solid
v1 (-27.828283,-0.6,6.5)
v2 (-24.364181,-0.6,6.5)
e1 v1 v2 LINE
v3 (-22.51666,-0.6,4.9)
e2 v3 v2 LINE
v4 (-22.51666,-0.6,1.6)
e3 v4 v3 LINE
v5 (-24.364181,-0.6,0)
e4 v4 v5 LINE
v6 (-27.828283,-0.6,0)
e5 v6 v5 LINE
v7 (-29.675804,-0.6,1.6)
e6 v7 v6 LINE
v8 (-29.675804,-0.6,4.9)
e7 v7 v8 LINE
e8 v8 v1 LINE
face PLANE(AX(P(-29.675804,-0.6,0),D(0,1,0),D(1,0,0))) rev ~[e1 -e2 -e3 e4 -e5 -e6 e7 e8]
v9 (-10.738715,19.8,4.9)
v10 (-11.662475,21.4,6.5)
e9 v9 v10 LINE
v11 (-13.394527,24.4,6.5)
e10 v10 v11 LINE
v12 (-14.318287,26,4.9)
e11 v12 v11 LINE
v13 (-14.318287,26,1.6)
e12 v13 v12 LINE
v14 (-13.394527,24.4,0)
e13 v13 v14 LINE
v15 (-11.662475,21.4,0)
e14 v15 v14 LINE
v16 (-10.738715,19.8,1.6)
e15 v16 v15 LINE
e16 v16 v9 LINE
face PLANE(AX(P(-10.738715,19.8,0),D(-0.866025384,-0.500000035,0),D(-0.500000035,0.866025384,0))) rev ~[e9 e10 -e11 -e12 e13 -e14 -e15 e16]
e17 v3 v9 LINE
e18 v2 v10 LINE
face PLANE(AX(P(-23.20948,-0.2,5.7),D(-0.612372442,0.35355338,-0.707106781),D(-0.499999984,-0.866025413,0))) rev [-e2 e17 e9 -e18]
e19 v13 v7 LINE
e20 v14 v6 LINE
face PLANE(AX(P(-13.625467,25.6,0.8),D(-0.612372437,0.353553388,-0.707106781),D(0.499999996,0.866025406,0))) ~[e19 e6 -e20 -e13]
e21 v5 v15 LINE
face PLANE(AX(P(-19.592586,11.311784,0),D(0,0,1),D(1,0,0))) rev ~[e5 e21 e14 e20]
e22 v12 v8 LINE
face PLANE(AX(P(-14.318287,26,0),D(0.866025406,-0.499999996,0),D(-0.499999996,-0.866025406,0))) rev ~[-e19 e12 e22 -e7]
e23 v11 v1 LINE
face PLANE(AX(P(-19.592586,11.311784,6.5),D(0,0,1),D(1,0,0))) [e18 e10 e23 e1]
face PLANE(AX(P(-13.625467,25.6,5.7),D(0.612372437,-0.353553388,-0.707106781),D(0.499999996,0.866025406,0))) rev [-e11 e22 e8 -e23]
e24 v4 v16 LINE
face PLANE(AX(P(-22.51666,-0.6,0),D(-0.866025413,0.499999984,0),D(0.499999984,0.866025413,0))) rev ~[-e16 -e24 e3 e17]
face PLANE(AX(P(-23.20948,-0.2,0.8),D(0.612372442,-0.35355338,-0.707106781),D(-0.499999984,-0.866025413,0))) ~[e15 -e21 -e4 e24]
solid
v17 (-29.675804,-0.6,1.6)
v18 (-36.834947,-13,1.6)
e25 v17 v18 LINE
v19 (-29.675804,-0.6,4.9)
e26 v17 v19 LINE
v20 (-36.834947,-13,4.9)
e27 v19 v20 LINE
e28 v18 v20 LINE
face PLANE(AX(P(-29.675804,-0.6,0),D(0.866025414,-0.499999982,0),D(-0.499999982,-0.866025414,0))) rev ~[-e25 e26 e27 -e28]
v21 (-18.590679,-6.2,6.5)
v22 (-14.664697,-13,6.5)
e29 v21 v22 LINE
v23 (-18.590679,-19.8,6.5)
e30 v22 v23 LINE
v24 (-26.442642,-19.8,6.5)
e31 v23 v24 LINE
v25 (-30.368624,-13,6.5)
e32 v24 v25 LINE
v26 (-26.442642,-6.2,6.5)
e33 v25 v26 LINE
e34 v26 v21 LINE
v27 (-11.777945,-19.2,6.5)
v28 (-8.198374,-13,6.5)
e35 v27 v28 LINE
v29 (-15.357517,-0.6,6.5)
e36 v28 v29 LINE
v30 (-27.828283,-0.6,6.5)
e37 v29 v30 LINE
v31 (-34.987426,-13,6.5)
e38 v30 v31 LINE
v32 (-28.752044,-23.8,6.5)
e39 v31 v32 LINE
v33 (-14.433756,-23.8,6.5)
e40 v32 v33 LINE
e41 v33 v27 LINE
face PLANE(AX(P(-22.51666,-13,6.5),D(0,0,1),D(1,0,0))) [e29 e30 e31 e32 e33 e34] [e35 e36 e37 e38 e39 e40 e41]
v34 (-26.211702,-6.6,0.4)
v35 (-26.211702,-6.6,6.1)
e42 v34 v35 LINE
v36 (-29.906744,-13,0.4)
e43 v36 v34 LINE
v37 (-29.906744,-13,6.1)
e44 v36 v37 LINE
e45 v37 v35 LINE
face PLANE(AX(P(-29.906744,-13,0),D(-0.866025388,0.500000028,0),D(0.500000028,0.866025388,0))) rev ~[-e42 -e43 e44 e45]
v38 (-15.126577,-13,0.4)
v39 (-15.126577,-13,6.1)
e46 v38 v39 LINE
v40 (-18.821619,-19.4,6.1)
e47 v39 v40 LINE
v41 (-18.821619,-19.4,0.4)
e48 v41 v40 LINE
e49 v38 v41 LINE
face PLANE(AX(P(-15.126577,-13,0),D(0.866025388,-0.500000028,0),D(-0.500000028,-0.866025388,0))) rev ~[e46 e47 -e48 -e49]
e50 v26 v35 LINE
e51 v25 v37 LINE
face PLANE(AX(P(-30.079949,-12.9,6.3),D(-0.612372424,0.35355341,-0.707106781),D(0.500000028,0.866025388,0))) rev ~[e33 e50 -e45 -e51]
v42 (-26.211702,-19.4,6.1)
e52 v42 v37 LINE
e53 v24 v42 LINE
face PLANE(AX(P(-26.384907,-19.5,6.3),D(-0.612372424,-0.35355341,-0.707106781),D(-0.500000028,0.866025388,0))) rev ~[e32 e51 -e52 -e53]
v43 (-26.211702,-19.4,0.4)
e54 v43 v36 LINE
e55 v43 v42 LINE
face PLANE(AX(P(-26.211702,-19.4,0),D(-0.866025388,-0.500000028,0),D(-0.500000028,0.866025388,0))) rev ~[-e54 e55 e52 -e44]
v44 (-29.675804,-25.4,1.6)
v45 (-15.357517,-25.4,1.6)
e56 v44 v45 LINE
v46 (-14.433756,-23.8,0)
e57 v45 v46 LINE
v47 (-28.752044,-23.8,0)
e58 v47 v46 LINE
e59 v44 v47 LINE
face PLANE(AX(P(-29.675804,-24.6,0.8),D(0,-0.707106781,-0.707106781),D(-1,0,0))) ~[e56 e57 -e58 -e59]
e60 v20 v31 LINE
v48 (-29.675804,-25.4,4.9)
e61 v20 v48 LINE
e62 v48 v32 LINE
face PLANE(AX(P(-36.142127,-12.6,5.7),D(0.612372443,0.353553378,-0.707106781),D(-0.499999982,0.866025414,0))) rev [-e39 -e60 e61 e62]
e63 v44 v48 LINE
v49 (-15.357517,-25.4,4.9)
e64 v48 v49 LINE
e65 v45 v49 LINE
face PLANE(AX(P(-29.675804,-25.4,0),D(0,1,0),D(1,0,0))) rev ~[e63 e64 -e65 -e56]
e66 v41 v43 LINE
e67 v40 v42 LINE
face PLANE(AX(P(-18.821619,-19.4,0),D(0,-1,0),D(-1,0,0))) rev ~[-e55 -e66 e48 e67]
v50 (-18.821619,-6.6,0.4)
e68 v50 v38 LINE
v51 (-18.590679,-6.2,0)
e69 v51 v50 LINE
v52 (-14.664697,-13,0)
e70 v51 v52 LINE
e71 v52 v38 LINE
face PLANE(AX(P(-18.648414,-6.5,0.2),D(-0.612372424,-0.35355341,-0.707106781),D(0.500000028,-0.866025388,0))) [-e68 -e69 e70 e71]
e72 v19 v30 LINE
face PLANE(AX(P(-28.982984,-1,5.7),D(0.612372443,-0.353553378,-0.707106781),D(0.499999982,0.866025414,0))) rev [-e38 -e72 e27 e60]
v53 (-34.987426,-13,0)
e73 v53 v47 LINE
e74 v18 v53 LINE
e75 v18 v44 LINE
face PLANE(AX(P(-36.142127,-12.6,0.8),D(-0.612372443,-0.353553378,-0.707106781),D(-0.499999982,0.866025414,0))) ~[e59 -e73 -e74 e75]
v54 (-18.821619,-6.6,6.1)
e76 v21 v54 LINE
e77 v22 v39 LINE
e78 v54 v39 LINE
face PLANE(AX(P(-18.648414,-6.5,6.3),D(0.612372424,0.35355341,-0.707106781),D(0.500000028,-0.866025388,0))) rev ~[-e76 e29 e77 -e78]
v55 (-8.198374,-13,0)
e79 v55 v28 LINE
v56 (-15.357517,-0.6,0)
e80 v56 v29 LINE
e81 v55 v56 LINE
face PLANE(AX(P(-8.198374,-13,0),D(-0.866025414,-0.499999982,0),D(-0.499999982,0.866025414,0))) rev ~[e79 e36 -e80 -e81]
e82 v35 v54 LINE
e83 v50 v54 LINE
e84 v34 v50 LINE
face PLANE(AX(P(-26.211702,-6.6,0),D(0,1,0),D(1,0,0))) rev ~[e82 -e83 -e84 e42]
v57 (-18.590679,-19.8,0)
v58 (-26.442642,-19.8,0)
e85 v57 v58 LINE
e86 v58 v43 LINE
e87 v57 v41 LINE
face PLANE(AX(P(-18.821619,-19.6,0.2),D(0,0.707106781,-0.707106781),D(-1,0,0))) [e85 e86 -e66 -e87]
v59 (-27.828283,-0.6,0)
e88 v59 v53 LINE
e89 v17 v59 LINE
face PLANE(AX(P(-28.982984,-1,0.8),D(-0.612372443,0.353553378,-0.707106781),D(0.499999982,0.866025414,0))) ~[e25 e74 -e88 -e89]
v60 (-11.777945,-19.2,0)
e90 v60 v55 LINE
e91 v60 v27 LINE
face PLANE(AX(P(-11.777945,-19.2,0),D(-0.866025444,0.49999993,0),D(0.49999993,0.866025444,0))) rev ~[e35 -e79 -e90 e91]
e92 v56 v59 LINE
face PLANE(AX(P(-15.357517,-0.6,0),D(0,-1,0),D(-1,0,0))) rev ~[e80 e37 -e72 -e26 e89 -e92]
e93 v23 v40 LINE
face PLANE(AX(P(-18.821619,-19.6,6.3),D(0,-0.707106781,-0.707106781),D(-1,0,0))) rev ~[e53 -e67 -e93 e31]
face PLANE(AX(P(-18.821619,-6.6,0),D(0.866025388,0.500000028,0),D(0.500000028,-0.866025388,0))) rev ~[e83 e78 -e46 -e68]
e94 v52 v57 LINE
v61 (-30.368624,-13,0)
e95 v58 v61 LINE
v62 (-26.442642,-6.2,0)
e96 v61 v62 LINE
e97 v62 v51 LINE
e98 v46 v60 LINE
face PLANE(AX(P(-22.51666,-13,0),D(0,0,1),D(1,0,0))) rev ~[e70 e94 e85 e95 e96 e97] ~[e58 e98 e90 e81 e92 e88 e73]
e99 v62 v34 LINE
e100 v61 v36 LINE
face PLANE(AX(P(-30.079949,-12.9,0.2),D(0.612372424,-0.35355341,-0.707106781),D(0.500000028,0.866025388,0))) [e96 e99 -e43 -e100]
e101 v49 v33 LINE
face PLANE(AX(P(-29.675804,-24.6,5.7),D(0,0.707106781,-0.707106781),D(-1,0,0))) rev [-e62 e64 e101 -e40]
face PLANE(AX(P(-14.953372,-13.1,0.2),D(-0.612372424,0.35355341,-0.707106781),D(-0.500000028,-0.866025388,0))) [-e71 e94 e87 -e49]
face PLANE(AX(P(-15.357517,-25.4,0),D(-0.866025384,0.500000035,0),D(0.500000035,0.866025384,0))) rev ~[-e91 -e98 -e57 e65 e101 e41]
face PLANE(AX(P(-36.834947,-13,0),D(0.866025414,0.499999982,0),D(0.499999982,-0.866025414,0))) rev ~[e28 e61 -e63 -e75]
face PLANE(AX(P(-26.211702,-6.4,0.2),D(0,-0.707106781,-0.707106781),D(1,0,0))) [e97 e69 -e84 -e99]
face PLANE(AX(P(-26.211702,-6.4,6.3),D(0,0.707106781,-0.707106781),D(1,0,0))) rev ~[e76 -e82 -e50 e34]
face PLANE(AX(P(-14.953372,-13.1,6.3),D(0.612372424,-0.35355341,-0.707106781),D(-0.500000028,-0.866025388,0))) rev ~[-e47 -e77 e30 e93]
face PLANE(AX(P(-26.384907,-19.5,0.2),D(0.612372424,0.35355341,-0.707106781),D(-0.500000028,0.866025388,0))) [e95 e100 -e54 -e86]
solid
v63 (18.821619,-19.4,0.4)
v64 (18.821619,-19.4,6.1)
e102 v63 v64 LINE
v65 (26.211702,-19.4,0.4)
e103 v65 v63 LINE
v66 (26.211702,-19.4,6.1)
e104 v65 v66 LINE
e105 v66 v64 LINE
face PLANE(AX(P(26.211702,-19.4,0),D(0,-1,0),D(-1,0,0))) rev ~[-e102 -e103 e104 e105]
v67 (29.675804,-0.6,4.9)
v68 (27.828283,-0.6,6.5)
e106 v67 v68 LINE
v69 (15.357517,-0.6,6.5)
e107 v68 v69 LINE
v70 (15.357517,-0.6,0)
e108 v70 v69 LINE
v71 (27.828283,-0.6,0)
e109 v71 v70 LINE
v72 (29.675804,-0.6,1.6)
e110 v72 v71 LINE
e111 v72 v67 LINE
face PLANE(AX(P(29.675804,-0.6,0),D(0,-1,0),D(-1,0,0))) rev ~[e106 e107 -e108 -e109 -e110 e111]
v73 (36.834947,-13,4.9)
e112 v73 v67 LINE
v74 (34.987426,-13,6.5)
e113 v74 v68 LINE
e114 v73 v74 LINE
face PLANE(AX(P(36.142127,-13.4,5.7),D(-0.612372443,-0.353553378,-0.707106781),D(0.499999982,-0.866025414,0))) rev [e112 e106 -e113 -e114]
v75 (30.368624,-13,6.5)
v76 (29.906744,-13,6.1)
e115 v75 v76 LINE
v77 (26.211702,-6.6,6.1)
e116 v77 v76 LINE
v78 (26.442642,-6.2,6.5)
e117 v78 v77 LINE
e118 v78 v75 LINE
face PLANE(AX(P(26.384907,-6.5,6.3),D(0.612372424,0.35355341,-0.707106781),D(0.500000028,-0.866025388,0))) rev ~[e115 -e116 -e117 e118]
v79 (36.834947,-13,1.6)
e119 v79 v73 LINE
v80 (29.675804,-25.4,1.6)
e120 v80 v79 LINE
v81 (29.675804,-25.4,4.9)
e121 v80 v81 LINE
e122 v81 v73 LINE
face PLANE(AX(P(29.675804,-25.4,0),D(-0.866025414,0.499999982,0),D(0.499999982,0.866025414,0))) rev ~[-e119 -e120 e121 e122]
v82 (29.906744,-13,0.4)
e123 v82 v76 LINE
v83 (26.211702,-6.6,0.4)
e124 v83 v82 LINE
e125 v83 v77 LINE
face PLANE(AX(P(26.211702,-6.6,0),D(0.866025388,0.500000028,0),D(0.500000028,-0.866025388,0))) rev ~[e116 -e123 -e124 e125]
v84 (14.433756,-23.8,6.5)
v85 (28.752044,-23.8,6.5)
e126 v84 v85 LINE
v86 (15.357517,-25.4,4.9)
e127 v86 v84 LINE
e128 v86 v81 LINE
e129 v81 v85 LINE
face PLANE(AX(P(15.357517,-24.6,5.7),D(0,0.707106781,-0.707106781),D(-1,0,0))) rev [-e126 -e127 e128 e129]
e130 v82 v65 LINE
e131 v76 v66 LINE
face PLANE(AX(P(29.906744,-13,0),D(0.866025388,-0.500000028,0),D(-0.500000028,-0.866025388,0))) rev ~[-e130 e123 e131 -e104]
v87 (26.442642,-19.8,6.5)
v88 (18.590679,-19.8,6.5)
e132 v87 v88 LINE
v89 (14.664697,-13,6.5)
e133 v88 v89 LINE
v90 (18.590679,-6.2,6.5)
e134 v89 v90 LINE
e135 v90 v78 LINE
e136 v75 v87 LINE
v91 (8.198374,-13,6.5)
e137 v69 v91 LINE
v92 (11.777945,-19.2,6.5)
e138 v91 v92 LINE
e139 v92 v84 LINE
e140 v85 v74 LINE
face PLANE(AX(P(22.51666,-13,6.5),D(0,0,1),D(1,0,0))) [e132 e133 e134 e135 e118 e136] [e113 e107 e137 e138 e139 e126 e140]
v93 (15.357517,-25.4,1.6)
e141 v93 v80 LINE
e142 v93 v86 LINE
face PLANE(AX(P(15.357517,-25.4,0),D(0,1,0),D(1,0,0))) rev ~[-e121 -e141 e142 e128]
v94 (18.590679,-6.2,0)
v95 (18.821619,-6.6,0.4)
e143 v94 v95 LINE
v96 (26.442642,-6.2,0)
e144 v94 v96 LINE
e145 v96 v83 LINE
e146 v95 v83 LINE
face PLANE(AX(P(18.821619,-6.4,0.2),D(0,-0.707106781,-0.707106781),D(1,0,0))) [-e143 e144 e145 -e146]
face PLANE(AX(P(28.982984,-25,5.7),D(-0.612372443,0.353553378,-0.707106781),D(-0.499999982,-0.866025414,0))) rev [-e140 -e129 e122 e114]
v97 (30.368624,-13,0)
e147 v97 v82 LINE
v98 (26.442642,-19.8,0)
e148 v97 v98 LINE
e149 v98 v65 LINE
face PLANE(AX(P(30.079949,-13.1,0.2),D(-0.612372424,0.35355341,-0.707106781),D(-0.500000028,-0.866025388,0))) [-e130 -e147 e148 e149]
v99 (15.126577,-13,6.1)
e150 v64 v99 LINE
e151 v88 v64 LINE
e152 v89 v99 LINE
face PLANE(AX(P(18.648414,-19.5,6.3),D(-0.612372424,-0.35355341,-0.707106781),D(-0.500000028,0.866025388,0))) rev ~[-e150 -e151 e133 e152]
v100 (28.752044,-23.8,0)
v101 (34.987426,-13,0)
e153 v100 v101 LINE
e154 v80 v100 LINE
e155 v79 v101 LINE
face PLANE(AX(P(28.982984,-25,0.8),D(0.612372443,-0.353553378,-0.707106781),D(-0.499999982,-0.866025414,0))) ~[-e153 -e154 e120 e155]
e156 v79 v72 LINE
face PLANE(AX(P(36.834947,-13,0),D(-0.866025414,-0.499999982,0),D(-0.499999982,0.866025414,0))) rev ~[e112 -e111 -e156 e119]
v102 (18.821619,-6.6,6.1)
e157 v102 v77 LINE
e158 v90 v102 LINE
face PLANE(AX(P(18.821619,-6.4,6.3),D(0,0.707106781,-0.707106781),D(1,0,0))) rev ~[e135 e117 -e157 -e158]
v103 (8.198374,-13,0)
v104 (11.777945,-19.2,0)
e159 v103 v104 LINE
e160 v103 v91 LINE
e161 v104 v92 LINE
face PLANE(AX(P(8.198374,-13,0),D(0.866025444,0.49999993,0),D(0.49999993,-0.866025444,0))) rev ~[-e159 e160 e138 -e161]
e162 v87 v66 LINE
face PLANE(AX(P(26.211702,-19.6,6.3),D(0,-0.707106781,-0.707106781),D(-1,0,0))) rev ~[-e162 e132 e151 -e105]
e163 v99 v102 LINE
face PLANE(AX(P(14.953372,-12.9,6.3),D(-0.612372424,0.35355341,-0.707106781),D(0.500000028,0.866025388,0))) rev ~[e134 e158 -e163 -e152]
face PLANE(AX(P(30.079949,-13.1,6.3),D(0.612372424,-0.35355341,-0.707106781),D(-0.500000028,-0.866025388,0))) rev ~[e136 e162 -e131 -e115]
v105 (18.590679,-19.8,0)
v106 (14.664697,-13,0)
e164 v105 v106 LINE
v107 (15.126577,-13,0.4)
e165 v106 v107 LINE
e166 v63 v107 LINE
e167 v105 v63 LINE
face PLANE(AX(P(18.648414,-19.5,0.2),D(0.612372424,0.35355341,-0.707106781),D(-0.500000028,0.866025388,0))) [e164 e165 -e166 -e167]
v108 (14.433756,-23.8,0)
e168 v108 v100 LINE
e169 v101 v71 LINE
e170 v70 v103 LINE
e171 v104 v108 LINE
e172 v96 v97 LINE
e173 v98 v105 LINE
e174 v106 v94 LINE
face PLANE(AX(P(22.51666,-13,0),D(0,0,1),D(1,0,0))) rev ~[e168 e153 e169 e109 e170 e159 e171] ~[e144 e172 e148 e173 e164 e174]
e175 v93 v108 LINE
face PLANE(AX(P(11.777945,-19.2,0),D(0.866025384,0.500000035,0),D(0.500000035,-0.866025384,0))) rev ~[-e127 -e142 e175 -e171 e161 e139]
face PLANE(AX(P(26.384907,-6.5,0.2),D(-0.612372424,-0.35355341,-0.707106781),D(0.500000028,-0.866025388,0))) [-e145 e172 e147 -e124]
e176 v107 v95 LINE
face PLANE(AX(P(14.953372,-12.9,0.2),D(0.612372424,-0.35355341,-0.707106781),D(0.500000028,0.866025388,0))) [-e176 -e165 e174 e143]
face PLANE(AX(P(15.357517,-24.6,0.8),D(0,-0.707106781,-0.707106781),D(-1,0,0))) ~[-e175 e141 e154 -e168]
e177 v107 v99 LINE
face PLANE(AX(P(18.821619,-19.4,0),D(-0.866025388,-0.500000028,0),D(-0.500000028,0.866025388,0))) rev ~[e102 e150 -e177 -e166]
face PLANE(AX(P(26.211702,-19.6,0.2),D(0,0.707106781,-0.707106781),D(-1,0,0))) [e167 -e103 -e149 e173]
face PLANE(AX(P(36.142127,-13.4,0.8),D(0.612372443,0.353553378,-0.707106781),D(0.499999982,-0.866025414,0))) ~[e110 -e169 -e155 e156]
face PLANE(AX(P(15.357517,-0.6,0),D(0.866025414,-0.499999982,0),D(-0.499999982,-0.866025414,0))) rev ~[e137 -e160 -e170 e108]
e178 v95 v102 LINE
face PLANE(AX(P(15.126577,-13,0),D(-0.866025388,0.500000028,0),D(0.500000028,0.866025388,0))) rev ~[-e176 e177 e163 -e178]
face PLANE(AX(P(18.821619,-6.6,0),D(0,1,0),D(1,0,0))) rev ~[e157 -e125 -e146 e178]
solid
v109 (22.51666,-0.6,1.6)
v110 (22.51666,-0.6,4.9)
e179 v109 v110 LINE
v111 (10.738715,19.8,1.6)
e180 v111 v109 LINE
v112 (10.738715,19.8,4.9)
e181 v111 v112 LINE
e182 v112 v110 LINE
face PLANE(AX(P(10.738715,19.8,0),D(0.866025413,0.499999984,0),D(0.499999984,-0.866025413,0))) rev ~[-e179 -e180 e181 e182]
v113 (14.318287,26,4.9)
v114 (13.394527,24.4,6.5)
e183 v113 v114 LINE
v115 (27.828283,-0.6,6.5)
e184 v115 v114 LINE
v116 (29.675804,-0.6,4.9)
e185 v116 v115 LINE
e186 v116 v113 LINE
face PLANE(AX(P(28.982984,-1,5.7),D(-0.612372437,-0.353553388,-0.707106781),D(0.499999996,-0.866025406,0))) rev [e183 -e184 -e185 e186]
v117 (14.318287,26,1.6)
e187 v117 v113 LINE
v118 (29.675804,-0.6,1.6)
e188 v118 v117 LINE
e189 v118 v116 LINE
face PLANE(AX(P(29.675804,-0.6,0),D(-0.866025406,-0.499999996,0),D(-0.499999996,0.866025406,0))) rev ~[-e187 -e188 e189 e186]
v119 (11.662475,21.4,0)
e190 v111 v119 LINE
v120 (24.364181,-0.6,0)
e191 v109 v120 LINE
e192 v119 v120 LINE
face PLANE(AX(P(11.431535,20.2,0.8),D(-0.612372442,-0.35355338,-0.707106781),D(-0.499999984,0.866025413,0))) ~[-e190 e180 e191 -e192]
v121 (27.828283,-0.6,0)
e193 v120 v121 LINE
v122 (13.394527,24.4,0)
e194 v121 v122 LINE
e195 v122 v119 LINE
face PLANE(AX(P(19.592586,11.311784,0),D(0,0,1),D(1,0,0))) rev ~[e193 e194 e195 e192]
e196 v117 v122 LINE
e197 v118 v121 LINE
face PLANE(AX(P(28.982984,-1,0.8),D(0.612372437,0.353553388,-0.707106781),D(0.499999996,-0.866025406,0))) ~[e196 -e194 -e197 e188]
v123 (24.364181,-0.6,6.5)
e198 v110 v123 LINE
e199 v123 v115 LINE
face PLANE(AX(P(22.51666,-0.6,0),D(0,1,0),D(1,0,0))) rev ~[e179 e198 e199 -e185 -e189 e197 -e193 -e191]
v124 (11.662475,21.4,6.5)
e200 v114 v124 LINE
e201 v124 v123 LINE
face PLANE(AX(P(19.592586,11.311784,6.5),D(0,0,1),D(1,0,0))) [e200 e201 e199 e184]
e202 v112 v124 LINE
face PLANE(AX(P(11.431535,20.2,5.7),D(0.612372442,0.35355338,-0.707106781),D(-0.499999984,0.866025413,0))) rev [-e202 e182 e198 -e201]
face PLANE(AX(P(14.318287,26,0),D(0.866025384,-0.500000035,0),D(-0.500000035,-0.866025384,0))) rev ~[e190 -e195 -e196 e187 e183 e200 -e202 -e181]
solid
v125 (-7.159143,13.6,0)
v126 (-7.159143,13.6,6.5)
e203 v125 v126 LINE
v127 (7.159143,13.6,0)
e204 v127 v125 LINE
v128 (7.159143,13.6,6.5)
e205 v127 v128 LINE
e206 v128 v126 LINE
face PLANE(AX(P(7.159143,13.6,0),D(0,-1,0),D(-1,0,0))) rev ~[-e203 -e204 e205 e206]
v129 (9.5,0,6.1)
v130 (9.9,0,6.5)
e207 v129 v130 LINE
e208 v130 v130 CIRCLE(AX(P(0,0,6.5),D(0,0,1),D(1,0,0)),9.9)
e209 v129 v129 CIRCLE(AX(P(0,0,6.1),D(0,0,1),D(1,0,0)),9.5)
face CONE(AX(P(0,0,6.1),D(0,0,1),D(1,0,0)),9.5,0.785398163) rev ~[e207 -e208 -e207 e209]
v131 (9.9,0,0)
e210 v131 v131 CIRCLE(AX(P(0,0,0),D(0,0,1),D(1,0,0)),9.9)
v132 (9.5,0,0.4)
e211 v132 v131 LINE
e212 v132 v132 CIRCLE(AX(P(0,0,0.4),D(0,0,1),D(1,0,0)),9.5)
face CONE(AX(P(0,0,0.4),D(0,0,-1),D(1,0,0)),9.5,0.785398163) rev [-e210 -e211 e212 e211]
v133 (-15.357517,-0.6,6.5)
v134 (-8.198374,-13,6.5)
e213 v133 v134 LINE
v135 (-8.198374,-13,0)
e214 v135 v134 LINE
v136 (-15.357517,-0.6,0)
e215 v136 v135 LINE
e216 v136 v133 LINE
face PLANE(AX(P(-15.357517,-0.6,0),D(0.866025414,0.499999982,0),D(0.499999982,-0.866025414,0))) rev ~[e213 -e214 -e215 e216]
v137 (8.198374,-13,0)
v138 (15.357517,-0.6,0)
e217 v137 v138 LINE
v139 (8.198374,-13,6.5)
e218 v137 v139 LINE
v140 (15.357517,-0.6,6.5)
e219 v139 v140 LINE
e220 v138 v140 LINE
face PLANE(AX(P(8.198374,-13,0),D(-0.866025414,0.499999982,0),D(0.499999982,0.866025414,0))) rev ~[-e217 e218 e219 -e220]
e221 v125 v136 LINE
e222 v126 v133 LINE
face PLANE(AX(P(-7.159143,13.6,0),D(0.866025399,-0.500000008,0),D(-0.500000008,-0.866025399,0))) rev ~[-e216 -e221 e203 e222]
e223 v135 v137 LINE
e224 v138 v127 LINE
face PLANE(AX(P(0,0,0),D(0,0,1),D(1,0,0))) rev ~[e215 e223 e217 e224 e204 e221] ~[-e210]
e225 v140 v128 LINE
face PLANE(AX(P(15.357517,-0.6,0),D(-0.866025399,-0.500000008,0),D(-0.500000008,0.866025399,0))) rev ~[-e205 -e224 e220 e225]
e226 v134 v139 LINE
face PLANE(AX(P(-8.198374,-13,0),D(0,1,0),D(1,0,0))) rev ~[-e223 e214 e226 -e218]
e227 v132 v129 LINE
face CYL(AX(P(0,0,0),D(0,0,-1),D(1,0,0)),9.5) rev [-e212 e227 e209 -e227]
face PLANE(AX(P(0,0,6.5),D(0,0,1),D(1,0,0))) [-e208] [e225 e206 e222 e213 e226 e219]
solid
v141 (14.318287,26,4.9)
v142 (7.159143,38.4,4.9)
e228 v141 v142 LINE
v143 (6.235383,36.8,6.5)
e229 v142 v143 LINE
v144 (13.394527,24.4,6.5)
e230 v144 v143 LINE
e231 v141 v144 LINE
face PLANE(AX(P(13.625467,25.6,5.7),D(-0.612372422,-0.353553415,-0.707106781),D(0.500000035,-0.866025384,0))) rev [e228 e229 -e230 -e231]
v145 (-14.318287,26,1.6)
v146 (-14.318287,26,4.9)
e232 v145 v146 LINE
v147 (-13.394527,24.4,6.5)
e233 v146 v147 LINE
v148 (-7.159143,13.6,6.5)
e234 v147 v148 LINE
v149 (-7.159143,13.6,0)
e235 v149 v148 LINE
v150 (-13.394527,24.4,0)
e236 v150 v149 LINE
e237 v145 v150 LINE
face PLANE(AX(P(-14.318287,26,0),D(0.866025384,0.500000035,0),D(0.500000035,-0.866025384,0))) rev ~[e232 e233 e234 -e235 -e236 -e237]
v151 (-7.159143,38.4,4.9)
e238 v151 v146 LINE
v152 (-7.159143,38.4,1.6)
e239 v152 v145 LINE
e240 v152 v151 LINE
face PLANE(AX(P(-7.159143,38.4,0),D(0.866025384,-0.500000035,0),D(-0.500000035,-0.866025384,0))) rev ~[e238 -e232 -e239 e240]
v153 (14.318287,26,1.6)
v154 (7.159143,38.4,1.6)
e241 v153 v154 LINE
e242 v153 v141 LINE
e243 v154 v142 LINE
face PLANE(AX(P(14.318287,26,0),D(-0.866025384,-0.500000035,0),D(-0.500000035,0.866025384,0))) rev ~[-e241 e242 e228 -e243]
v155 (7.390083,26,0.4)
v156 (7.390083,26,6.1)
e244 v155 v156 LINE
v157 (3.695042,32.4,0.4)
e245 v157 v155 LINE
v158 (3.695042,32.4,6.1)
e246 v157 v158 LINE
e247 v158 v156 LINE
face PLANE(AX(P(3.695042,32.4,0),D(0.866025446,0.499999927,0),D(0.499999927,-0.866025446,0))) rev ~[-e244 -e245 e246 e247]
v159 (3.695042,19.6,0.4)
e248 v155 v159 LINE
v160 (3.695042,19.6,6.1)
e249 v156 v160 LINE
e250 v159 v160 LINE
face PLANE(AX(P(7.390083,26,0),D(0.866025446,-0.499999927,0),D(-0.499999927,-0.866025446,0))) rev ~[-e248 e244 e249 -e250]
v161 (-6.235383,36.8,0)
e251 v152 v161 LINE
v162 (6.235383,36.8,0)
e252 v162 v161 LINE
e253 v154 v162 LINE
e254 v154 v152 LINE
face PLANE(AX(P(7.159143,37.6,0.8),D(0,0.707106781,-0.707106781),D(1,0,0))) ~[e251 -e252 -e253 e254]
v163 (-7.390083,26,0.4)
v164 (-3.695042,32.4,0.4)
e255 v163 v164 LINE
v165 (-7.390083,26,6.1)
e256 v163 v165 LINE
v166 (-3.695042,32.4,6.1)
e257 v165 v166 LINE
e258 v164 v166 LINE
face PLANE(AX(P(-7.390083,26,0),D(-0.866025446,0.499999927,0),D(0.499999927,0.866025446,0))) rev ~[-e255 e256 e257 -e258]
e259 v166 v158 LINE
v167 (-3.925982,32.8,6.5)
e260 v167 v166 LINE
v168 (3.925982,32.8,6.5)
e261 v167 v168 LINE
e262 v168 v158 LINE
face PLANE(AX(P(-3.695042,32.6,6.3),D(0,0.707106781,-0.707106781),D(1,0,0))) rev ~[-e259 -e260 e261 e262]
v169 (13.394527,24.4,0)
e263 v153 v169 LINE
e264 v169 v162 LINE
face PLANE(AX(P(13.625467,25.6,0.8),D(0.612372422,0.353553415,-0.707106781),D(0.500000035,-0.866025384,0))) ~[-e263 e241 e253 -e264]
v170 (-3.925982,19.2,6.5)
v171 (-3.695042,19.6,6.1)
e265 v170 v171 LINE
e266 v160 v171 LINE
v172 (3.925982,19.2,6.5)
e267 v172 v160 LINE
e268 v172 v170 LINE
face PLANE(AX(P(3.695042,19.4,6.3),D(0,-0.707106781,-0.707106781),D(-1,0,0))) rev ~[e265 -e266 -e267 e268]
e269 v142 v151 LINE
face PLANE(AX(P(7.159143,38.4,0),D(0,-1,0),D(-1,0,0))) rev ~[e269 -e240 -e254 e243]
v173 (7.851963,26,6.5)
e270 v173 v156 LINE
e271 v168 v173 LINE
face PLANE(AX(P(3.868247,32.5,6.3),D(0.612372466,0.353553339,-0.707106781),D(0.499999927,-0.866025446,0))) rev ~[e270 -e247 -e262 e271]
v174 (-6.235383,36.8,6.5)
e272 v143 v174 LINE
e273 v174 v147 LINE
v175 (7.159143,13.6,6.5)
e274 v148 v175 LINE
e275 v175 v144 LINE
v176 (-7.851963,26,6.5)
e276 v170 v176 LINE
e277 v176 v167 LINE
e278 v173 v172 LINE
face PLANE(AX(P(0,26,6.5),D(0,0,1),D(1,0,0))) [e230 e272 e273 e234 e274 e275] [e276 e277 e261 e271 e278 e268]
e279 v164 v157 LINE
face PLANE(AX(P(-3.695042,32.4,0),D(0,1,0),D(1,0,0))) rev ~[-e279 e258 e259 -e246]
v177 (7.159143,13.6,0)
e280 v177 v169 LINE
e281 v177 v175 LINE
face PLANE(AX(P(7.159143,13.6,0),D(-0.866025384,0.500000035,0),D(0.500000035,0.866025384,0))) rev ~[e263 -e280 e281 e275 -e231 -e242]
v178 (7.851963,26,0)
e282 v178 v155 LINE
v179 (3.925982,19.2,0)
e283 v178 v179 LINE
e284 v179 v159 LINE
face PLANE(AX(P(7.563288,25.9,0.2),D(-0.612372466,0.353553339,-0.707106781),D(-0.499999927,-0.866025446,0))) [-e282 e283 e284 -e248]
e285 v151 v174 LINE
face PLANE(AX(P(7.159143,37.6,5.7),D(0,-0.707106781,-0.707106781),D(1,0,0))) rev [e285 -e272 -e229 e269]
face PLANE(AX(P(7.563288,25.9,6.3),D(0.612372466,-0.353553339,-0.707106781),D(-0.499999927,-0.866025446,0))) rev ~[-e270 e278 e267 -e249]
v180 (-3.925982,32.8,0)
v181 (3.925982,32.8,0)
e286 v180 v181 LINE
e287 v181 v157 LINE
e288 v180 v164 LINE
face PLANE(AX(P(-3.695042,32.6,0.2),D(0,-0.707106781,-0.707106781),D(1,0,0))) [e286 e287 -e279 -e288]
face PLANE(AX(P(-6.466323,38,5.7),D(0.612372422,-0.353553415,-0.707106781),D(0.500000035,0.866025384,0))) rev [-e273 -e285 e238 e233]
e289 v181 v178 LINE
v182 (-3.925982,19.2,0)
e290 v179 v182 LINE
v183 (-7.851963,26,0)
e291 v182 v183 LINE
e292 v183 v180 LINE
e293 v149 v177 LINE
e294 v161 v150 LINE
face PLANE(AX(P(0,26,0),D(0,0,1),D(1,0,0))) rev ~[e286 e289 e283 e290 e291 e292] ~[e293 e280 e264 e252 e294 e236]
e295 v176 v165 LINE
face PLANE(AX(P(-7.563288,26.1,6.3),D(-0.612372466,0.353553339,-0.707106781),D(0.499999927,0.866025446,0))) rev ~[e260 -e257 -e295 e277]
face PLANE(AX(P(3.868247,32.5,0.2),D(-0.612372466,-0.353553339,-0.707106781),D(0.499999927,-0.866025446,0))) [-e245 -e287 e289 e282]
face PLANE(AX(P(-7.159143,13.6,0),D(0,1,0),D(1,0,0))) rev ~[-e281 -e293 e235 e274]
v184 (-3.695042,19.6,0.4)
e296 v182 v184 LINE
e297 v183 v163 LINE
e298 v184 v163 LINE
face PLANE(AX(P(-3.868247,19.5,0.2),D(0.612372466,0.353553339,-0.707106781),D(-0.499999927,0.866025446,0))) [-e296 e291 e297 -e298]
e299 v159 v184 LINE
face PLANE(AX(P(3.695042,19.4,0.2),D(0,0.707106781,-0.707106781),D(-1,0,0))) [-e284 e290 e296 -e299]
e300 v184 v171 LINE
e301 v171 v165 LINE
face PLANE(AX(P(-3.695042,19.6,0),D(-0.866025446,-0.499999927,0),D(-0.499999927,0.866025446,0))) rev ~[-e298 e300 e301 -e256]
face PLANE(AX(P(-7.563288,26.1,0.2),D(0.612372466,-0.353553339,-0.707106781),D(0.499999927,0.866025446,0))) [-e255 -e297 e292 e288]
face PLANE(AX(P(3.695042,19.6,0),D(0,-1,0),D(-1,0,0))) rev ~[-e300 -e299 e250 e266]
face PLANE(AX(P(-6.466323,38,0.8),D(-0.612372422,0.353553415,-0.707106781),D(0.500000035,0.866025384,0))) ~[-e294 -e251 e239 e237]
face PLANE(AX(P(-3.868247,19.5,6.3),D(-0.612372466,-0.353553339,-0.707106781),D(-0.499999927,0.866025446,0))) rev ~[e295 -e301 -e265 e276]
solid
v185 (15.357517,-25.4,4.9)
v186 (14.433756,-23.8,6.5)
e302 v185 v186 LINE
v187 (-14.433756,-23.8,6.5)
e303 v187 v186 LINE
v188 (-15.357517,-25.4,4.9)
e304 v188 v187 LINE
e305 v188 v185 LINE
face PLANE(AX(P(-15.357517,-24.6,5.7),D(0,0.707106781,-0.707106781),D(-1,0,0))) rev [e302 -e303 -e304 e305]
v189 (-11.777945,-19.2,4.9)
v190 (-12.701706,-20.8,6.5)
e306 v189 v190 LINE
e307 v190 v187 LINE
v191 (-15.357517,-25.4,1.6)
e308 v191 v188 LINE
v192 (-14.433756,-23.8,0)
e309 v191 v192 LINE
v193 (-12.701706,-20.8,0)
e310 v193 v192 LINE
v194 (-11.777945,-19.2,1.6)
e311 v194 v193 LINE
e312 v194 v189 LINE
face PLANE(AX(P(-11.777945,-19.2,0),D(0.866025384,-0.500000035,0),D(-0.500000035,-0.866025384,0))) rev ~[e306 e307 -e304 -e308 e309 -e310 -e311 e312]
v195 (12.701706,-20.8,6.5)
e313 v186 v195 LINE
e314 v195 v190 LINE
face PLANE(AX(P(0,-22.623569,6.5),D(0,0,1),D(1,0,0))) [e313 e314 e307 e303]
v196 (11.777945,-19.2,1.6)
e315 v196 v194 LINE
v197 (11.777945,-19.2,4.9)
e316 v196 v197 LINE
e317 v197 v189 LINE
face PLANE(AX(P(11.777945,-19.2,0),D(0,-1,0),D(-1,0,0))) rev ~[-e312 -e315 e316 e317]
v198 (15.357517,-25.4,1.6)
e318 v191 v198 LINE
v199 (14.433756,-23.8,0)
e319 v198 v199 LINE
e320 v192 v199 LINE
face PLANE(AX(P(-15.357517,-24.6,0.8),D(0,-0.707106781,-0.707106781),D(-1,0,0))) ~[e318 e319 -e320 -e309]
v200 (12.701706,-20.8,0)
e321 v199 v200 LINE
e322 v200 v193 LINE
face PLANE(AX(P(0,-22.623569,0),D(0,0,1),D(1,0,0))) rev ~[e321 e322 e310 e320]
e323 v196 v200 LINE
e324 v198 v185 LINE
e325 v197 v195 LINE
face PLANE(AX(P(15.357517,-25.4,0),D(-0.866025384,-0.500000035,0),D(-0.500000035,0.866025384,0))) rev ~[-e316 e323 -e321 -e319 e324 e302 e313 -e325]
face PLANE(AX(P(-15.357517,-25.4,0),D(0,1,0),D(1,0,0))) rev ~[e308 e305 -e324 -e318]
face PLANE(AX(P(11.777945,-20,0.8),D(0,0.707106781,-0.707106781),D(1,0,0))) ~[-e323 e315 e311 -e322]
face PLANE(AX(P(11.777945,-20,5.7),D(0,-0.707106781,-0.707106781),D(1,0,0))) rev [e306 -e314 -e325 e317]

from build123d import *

# Parameters (mm, degrees)
F1_DEPTH  = 6.5
F0_R      = 9.5
F2_DEPTH  = 6.5
F3_SIZE   = 1.6
F4_SIZE   = 1.6
F5_SIZE   = 0.4
F5_2_SIZE = 0.4


with BuildPart() as f1:
    # F0 (on Top) → F1 (new body)
    with BuildSketch(Plane.XY):
        Polygon((-10.738715, 19.8), (-7.159143, 13.6), (7.159143, 13.6), (10.738715, 19.8), (14.318287, 26), (7.159143, 38.4), (-7.159143, 38.4), (-14.318287, 26), align=None)
        Polygon((7.390083, 26), (3.695042, 19.6), (-3.695042, 19.6), (-7.390083, 26), (-3.695042, 32.4), (3.695042, 32.4), align=None, mode=Mode.SUBTRACT)
        Polygon((-8.198374, -13), (-15.357517, -0.6), (-22.51666, -0.6), (-29.675804, -0.6), (-36.834947, -13), (-29.675804, -25.4), (-15.357517, -25.4), (-11.777945, -19.2), align=None)
        Polygon((-18.821619, -19.4), (-26.211702, -19.4), (-29.906744, -13), (-26.211702, -6.6), (-18.821619, -6.6), (-15.126577, -13), align=None, mode=Mode.SUBTRACT)
        Polygon((22.51666, -0.6), (15.357517, -0.6), (8.198374, -13), (11.777945, -19.2), (15.357517, -25.4), (29.675804, -25.4), (36.834947, -13), (29.675804, -0.6), align=None)
        Polygon((26.211702, -6.6), (29.906744, -13), (26.211702, -19.4), (18.821619, -19.4), (15.126577, -13), (18.821619, -6.6), align=None, mode=Mode.SUBTRACT)
    extrude(amount=F1_DEPTH)

    # F4
    f4_edges = [f1.edges().sort_by_distance(p)[0] for p in [
        (-10.738715, 32.2, 6.5),
        (-10.738715, 32.2, 0),
        (-33.255376, -6.8, 6.5),
        (-33.255376, -6.8, 0),
        (10.738715, 32.2, 6.5),
        (10.738715, 32.2, 0),
        (33.255376, -6.8, 6.5),
        (33.255376, -6.8, 0),
        (22.51666, -25.4, 6.5),
        (22.51666, -25.4, 0),
        (-22.51666, -25.4, 6.5),
        (-22.51666, -25.4, 0),
        (33.255376, -19.2, 6.5),
        (33.255376, -19.2, 0),
        (-33.255376, -19.2, 6.5),
        (-33.255376, -19.2, 0),
        (0, 38.4, 6.5),
        (0, 38.4, 0),
    ]]
    chamfer(f4_edges, length=F4_SIZE)

    # F5#2
    f5_2_edges = [f1.edges().sort_by_distance(p)[0] for p in [
        (5.542563, 22.8, 6.5),
        (5.542563, 29.2, 6.5),
        (0, 19.6, 6.5),
        (-5.542563, 22.8, 6.5),
        (-5.542563, 29.2, 6.5),
        (0, 32.4, 6.5),
        (-5.542563, 22.8, 0),
        (0, 19.6, 0),
        (5.542563, 22.8, 0),
        (5.542563, 29.2, 0),
        (0, 32.4, 0),
        (-5.542563, 29.2, 0),
        (-22.51666, -6.6, 0),
        (-28.059223, -9.8, 0),
        (-28.059223, -16.2, 0),
        (-22.51666, -19.4, 0),
        (-16.974098, -16.2, 0),
        (-16.974098, -9.8, 0),
        (-16.974098, -16.2, 6.5),
        (-16.974098, -9.8, 6.5),
        (-22.51666, -6.6, 6.5),
        (-28.059223, -9.8, 6.5),
        (-28.059223, -16.2, 6.5),
        (-22.51666, -19.4, 6.5),
        (22.51666, -19.4, 6.5),
        (28.059223, -16.2, 6.5),
        (28.059223, -9.8, 6.5),
        (22.51666, -6.6, 6.5),
        (16.974098, -9.8, 6.5),
        (16.974098, -16.2, 6.5),
        (22.51666, -19.4, 0),
        (16.974098, -16.2, 0),
        (16.974098, -9.8, 0),
        (22.51666, -6.6, 0),
        (28.059223, -9.8, 0),
        (28.059223, -16.2, 0),
    ]]
    chamfer(f5_2_edges, length=F5_2_SIZE)


with BuildPart() as f2:
    # F0 (on Top) → F2 (new body)
    with BuildSketch(Plane.XY):
        Polygon((-22.51666, -0.6), (-10.738715, 19.8), (-14.318287, 26), (-29.675804, -0.6), align=None)
        Polygon((7.159143, 13.6), (-7.159143, 13.6), (-15.357517, -0.6), (-8.198374, -13), (8.198374, -13), (15.357517, -0.6), align=None)
        Circle(F0_R, mode=Mode.SUBTRACT)
        Polygon((11.777945, -19.2), (-11.777945, -19.2), (-15.357517, -25.4), (15.357517, -25.4), align=None)
        Polygon((14.318287, 26), (10.738715, 19.8), (22.51666, -0.6), (29.675804, -0.6), align=None)
    extrude(amount=F2_DEPTH)

    # F3
    f3_edges = [f2.edges().sort_by_distance(p)[0] for p in [
        (-21.997045, 12.7, 6.5),
        (-21.997045, 12.7, 0),
        (0, -25.4, 6.5),
        (0, -25.4, 0),
        (21.997045, 12.7, 6.5),
        (21.997045, 12.7, 0),
        (16.627688, 9.6, 6.5),
        (0, -19.2, 6.5),
        (-16.627688, 9.6, 0),
        (-16.627688, 9.6, 6.5),
        (16.627688, 9.6, 0),
        (0, -19.2, 0),
    ]]
    chamfer(f3_edges, length=F3_SIZE)

    # F5
    f5_edges = [f2.edges().sort_by_distance(p)[0] for p in [
        (-9.5, 0, 6.5),
        (-9.5, 0, 0),
    ]]
    chamfer(f5_edges, length=F5_SIZE)


solid = Compound([f1.part, f2.part])
